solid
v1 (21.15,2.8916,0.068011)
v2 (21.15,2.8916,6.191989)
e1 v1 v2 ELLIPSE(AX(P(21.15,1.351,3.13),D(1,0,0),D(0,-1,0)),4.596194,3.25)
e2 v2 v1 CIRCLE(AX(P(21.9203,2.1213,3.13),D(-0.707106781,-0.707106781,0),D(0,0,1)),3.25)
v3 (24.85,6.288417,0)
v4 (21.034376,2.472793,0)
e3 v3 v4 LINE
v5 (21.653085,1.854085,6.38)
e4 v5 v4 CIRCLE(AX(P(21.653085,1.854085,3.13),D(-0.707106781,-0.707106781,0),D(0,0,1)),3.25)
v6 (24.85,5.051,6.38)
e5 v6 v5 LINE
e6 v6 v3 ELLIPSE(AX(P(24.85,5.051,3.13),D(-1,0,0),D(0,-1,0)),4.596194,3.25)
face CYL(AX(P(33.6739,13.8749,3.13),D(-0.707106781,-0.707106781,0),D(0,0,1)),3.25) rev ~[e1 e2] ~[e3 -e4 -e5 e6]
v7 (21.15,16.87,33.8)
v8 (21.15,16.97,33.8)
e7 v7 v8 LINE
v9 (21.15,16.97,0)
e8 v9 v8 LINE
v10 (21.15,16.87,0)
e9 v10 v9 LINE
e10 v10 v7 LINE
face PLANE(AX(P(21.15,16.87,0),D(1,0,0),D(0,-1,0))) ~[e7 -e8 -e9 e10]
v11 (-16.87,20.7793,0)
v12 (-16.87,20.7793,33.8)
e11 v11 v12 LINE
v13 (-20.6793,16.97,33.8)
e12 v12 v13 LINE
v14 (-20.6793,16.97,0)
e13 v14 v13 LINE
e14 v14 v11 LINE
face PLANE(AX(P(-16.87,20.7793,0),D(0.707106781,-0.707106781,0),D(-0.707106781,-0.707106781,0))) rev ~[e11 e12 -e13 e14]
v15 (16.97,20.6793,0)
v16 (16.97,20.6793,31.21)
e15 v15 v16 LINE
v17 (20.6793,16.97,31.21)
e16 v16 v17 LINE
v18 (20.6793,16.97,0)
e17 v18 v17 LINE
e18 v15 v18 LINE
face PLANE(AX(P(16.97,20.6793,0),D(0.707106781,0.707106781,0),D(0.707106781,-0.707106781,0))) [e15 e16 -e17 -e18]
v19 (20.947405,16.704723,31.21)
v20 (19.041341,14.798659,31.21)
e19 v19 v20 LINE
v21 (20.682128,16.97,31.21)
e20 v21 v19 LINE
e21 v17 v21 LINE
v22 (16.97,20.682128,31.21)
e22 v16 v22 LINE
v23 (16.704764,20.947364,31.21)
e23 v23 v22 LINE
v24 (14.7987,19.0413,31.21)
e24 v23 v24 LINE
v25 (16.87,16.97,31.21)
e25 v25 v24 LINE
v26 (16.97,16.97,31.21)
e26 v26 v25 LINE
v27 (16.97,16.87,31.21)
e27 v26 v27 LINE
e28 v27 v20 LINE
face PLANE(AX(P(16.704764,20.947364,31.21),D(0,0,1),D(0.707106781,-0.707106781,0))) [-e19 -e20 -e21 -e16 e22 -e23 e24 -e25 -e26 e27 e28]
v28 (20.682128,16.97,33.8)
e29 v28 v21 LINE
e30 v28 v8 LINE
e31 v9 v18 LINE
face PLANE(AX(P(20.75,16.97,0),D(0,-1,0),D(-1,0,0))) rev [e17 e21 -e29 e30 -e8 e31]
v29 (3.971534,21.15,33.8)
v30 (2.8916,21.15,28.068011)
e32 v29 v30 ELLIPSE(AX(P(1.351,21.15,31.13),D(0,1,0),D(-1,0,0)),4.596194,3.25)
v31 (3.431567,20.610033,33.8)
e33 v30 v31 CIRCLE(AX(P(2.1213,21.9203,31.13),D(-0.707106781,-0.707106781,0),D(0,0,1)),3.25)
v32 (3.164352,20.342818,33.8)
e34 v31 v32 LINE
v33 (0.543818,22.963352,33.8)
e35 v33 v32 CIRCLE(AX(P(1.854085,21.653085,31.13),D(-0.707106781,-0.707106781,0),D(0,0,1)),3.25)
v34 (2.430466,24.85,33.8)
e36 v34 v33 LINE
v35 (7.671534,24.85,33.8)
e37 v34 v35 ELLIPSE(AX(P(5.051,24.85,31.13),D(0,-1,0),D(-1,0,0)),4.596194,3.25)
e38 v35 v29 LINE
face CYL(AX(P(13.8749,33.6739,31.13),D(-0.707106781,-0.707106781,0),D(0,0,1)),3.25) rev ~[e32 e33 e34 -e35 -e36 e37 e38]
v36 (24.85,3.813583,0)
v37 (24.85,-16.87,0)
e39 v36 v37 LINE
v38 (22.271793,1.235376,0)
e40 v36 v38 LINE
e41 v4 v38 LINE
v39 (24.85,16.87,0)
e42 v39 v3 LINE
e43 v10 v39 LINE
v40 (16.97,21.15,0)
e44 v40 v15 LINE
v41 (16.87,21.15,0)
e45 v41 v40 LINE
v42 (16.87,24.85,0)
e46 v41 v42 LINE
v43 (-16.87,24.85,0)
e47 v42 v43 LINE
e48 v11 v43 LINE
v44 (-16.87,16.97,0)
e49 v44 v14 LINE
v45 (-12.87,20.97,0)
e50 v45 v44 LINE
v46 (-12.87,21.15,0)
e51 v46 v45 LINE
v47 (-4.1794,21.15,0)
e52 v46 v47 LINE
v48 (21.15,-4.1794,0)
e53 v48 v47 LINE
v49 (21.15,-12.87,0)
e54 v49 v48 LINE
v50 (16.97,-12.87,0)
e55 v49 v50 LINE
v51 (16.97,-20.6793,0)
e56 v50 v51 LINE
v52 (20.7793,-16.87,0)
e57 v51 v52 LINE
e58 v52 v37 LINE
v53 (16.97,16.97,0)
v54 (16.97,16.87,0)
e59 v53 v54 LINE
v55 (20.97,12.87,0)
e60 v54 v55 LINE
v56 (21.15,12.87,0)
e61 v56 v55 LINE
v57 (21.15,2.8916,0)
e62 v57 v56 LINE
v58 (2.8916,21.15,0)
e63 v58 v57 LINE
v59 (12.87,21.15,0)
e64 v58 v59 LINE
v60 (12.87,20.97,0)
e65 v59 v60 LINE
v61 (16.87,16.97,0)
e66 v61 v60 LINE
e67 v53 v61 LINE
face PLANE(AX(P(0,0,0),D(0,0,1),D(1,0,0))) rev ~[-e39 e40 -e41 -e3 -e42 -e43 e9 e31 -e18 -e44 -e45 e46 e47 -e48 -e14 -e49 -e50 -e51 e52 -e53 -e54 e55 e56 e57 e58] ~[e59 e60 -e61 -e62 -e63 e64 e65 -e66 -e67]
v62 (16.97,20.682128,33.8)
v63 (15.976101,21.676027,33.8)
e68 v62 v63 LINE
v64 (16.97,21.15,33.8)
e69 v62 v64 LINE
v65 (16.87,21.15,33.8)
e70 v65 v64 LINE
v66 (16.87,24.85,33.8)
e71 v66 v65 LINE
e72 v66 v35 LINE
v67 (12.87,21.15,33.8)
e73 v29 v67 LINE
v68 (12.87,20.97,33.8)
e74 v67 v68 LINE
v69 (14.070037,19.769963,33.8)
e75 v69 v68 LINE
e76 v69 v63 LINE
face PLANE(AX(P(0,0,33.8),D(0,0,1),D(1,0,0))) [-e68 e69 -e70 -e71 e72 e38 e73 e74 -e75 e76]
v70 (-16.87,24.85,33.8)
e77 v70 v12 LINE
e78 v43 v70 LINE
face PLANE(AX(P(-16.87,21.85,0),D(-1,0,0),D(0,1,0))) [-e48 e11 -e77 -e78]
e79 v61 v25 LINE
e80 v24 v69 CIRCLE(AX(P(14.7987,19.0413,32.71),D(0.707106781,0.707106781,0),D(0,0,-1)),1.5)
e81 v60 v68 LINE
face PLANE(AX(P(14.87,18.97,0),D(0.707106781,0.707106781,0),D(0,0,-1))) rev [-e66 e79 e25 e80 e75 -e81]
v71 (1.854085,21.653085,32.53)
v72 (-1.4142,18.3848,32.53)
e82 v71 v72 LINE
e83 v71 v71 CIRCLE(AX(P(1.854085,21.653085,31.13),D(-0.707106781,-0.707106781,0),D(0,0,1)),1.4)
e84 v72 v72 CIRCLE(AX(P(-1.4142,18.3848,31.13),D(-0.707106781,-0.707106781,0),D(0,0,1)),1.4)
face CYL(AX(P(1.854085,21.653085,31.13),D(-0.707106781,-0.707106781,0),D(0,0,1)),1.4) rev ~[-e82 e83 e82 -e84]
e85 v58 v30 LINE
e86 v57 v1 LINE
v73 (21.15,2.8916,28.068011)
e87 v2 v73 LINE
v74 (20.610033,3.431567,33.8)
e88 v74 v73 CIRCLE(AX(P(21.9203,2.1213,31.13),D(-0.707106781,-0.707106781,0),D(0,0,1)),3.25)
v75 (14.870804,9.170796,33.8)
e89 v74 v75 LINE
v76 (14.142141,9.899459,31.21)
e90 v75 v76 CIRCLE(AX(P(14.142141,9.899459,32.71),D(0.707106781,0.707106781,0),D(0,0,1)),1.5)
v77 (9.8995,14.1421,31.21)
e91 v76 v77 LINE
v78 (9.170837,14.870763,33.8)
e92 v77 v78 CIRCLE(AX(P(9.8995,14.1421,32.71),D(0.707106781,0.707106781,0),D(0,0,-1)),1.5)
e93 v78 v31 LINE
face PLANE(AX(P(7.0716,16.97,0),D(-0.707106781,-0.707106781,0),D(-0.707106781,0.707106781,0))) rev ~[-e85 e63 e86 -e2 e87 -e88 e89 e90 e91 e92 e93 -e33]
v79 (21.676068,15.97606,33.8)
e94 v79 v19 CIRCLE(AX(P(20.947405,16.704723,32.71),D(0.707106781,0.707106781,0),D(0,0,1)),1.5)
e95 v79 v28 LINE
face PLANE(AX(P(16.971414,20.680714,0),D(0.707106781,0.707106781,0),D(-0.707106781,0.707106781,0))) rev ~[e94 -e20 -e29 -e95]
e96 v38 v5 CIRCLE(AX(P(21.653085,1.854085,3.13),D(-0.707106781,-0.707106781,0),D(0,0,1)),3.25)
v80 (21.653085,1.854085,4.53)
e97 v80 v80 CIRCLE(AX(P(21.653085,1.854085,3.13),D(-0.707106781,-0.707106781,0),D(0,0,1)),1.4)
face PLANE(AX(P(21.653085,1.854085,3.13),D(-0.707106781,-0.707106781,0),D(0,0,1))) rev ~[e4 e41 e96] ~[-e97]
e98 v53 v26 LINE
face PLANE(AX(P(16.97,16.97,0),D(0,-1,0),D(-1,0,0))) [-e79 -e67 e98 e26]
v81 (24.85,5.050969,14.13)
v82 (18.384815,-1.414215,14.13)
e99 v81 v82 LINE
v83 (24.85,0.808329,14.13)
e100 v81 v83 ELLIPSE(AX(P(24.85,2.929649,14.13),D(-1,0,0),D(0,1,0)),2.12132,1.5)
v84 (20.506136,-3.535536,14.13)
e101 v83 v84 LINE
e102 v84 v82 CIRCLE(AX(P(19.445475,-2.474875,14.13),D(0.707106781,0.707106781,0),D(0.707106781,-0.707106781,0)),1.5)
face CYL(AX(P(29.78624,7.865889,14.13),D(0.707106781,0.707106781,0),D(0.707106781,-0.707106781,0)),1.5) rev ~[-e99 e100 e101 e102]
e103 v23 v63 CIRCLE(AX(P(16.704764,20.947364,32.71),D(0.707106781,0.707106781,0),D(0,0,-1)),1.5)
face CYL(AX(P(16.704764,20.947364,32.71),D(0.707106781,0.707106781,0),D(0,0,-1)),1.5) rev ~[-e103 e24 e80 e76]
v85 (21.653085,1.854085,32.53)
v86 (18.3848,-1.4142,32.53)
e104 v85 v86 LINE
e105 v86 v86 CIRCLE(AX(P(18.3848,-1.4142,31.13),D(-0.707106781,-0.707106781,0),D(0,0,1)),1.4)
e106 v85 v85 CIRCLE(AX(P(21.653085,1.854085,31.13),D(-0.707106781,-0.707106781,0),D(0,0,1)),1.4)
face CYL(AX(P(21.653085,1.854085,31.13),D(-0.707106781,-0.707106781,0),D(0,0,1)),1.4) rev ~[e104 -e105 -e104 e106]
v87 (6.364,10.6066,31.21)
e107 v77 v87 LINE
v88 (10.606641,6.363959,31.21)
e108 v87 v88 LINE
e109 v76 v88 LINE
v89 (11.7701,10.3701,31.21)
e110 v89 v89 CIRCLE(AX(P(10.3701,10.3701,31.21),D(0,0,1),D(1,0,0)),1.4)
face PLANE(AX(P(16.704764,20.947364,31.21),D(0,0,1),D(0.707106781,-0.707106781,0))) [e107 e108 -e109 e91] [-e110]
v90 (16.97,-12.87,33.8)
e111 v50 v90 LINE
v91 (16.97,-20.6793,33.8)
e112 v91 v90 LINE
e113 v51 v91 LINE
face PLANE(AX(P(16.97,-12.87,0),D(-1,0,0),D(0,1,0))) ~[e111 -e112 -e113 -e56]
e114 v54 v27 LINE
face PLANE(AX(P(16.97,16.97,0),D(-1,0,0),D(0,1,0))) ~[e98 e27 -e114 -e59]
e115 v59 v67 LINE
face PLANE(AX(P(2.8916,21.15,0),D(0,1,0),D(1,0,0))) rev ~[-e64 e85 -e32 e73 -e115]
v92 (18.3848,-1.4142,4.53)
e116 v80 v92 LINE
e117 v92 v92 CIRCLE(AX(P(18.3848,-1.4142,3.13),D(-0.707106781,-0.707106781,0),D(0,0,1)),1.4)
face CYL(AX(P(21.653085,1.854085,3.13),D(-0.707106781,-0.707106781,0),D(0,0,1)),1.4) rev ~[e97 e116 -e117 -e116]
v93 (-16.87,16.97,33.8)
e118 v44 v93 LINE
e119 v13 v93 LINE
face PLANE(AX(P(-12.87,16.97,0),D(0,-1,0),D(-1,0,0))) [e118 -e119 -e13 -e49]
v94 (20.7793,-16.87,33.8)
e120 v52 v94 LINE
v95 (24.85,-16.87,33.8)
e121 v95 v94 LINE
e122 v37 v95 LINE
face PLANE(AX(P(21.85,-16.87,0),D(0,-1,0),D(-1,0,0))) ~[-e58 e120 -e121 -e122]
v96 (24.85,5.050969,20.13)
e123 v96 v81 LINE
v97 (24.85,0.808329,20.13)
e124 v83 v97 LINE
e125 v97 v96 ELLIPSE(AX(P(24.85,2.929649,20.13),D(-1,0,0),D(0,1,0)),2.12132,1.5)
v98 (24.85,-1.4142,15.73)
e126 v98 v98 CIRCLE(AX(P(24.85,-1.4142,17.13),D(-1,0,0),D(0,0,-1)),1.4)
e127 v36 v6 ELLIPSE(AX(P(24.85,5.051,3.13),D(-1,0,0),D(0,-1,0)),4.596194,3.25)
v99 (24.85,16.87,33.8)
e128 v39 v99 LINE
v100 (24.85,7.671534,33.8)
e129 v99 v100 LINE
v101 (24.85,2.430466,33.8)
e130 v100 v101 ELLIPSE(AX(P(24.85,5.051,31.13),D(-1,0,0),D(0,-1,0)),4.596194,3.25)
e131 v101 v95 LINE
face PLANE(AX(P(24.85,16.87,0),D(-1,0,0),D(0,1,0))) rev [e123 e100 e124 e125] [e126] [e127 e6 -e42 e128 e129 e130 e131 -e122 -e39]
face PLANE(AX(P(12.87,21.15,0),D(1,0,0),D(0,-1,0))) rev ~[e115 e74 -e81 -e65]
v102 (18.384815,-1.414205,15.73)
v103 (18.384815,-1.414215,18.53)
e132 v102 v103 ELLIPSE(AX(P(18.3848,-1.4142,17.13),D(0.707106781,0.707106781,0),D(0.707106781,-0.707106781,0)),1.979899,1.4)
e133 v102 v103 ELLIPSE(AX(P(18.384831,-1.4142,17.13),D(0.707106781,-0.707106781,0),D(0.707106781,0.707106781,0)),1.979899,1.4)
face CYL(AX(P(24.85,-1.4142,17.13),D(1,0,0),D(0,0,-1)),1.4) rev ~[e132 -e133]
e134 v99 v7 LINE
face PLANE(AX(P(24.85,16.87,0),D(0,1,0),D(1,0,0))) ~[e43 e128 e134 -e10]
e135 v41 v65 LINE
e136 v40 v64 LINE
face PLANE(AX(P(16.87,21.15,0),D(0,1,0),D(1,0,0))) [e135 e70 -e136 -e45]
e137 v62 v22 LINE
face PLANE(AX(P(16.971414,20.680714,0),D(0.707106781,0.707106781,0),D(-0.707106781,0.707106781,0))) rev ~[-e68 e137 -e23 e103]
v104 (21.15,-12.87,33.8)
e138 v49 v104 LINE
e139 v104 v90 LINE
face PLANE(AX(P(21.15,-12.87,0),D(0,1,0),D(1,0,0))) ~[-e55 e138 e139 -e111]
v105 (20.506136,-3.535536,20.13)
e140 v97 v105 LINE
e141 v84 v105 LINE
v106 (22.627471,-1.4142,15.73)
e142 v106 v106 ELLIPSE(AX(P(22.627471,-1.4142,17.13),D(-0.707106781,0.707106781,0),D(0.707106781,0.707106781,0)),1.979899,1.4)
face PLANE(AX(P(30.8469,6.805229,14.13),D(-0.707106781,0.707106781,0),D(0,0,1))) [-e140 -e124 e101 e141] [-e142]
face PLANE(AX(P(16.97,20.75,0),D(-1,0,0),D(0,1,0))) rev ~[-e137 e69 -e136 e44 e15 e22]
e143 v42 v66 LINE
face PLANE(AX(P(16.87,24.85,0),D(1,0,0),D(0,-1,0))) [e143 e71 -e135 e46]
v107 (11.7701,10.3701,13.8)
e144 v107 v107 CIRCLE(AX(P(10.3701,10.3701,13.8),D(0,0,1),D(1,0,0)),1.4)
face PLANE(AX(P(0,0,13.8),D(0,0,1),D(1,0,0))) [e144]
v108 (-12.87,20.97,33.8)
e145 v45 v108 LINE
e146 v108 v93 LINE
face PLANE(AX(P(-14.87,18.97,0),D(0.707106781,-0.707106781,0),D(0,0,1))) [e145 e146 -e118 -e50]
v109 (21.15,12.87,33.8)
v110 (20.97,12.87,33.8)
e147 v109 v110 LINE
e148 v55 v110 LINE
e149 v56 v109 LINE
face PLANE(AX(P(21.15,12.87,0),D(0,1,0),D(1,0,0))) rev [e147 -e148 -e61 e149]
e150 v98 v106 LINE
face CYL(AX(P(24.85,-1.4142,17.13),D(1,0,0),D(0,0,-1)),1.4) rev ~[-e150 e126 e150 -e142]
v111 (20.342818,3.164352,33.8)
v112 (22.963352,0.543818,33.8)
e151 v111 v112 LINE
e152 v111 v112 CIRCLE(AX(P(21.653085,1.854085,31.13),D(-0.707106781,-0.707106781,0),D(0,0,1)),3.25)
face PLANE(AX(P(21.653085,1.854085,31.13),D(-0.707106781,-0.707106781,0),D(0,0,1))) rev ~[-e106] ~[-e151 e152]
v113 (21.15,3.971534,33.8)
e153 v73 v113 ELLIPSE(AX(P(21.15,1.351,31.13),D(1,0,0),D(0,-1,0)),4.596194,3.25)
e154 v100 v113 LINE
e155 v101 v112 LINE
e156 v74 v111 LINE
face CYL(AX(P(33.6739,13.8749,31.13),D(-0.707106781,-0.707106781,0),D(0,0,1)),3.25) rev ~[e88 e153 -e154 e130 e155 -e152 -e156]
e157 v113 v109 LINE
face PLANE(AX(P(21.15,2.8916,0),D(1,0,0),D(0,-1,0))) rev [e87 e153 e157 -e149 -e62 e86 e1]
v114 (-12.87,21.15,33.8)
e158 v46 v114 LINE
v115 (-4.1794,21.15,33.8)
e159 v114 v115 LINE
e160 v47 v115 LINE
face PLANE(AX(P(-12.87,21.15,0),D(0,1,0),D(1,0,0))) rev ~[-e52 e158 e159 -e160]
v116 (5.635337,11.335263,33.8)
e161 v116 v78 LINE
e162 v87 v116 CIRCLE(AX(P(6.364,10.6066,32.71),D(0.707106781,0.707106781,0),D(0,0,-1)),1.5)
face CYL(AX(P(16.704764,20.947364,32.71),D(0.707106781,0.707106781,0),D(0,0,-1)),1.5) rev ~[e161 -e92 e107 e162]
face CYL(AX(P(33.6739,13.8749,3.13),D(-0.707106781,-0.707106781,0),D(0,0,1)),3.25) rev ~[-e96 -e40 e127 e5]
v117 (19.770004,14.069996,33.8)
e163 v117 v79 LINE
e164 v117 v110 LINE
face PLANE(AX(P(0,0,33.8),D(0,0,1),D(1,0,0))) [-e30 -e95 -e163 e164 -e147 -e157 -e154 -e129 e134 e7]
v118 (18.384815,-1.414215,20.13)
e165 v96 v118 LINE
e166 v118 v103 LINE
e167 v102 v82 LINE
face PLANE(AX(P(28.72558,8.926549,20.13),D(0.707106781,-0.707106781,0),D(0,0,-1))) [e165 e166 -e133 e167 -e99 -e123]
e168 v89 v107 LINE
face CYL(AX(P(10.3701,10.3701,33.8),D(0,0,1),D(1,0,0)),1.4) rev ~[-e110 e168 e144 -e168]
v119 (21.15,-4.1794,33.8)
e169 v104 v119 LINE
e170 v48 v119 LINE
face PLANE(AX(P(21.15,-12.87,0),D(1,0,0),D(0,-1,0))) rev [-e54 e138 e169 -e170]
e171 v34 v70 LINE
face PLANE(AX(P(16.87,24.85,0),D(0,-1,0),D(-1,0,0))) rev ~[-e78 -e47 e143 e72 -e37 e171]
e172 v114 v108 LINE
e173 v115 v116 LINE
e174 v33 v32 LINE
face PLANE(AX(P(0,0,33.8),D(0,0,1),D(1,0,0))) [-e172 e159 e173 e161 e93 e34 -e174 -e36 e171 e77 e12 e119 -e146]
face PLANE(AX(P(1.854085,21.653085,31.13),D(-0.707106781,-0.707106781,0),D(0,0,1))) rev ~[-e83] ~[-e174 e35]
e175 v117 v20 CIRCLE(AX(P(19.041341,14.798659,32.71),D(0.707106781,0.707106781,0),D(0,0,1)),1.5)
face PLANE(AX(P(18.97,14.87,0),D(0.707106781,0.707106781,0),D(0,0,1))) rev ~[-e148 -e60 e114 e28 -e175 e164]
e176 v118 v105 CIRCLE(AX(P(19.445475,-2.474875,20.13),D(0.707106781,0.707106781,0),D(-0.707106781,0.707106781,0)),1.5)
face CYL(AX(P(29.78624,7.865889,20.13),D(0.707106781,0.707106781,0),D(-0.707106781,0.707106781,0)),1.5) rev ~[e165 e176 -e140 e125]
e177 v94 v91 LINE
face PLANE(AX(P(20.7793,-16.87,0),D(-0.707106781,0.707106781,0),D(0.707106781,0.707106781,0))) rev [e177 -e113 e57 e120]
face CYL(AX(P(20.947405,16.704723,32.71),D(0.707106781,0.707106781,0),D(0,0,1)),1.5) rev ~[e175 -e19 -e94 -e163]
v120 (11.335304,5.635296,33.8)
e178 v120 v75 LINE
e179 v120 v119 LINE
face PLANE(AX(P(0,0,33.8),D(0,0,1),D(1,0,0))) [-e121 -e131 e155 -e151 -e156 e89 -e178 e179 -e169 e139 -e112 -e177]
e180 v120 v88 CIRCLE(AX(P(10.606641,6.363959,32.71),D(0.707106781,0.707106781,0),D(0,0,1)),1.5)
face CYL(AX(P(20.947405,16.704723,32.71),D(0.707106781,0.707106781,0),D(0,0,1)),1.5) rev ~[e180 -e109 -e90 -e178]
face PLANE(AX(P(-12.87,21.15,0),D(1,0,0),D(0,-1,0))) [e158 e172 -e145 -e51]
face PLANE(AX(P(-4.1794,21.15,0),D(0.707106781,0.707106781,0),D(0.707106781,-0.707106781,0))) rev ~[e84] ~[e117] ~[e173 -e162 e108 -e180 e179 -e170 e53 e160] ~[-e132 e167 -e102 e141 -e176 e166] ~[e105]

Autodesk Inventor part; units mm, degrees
ref_plane "YZ Plane" through (0, 0, 0) normal (1, 0, 0) x (0, 1, 0)
ref_plane "XZ Plane" through (0, 0, 0) normal (0, 1, 0) x (-1, 0, 0)
ref_plane "XY Plane" through (0, 0, 0) normal (0, 0, 1) x (1, 0, 0)
ref_plane "Arbeitsebene1" through (0, 0, 0) normal (0, 0, 1) x (1, 0, 0)
sketch "Skizze1" plane through (0, 0, 0) normal (0, 0, 1) x (1, 0, 0)
  arc A0 (24.85, 22.85) -> (22.85, 24.85) centre (22.85, 22.85) ccw projected
  line L0 (22.85, 24.85) -> (-16.97, 24.85) projected
  line L1 (-16.97, 24.85) -> (-16.97, 21.15) projected
  line L2 (-16.97, 21.15) -> (16.97, 21.15) projected
  line L3 (16.97, 16.97) -> (16.97, 21.15) projected
  line L4 (21.15, 16.97) -> (16.97, 16.97) projected
  line L5 (21.15, 16.97) -> (21.15, -16.97) projected
  line L6 (21.15, -16.97) -> (24.85, -16.97) projected
  line L7 (24.85, -16.97) -> (24.85, 22.85) projected
  line L8 (23.75, 23.25) -> (23.75, 18.15) projected
  arc A1 (23.25, 17.65) -> (23.75, 18.15) centre (23.25, 18.15) ccw projected
  line L9 (23.25, 17.65) -> (20.8937, 17.65) projected
  arc A2 (20.5239, 17.8134) -> (20.8937, 17.65) centre (20.8937, 18.15) ccw projected
  line L10 (20.5239, 17.8134) -> (17.7803, 20.8273) projected
  arc A3 (17.65, 21.1639) -> (17.7803, 20.8273) centre (18.15, 21.1639) ccw projected
  line L11 (17.65, 21.1639) -> (17.65, 23.25) projected
  arc A4 (18.15, 23.75) -> (17.65, 23.25) centre (18.15, 23.25) ccw projected
  line L12 (18.15, 23.75) -> (23.25, 23.75) projected
  arc A5 (23.75, 23.25) -> (23.25, 23.75) centre (23.25, 23.25) ccw projected
  line L13 (-16.87, 24.85) -> (16.87, 24.85)
  line L14 (16.87, 24.85) -> (16.87, 21.85)
  line L15 (16.87, 21.85) -> (-16.87, 21.85)
  line L16 (-16.87, 21.85) -> (-16.87, 24.85)
  line L17 (34.79, 34.79) -> (-34.79, -34.79)
  line L18 (16.87, 21.85) -> (16.87, 16.87)
  line L19 (12.87, 21.85) -> (12.87, 12.87)
  line L20 (16.87, 16.87) -> (12.87, 12.87)
  line L21 (-16.97, 21.15) -> (-16.97, 16.97) projected
  line L22 (16.97, 16.97) -> (-16.97, 16.97) projected
  line L23 (16.97, 21.15) -> (16.97, 16.97) projected
  line L24 (-16.97, 21.15) -> (16.97, 21.15) projected
  line L25 (-16.97, 16.97) -> (-16.97, 20.75) projected
  line L26 (-20.75, 16.97) -> (-16.97, 20.75) projected
  line L27 (-20.75, 16.97) -> (-16.97, 16.97) projected
  line L28 (-16.87, 21.85) -> (-12.87, 21.85)
  line L29 (-12.87, 21.85) -> (-12.87, 16.97)
  line L30 (-12.87, 16.97) -> (-16.87, 16.97)
  line L31 (-16.87, 16.97) -> (-16.87, 21.85)
  line L32 (-16.87, 20.7793) -> (-20.6793, 16.97)
  line L33 (-20.6793, 16.97) -> (-16.87, 16.97)
  line L34 (-4.8794, 21.85) -> (21.15, -4.1794)
  line L35 (-7.0711, 15.5563) -> (3.471, 5.0143) projected
  line L36 (21.15, 2.8916) -> (2.1916, 21.85)
  line L37 (12.0208, 12.0208) -> (8.4853, 8.4853)
  line L38 (20.75, 16.97) -> (16.97, 20.75) projected
  line L39 (16.97, 20.6793) -> (20.6793, 16.97)
  point P0 (0, 0)
  point P1 (-12.87, 21.15)
  point P2 (12.87, 21.15)
  point P3 (2.8916, 21.15)
  point P4 (-4.1794, 21.15)
  point P5 (12.87, 16.97)
  point P6 (16.87, 21.15)
  dimension "d0" = 0.1
  dimension "d1" = 0.1
  dimension "d2" = 3
  dimension "d3" = 4
  dimension "d6" = 4
  dimension "d8" = 0
  dimension "d9" = 0.05
  dimension "d10" = 6
  dimension "d11" = 5
  dimension "d12" = 0.05
extrude "Extrusion1" add sketch "Skizze1" along normal blind 33.8 contours L14 L15 L16 L0 | L18 L2 L19 L15 | L34 L22 L36 L17 | L15 L29 L2 L31 | L19 L2 L36 L15 | L18 L22 L19 L2 | L2 L3 L22 L18 | L39 L4 L17 | L17 L3 L39 | L34 L2 L36 L22 | L15 L34 L2 L29 | L2 L29 L22 L31 | L36 L2 L34 L15 | L31 L22 L21 L32 | L21 L27 L32
mirror "Spiegeln1" about plane through (8.4853, 8.4853, 0) normal (0.7071, -0.7071, 0) of "Extrusion1"
chamfer "Fase1" distance 4 angle 45 3 edges at (12.87, 16.97, 16.9) (16.97, 12.87, 16.9) (-12.87, 16.97, 16.9)
ref_plane "Arbeitsebene2" through (21.9197, 25.629, 0) normal (0.7071, 0.7071, 0) x (-0.7071, 0.7071, 0)
sketch "Skizze2" plane through (21.9197, 25.629, 0) normal (0.7071, 0.7071, 0) x (-0.7071, 0.7071, 0)
  line L0 (-16.6229, 20.13) -> (-16.6229, 14.13) projected
  arc A0 (-19.6229, 14.13) -> (-16.6229, 14.13) centre (-18.1229, 14.13) ccw projected
  line L1 (-19.6229, 14.13) -> (-19.6229, 20.13) projected
  arc A1 (-16.6229, 20.13) -> (-19.6229, 20.13) centre (-18.1229, 20.13) ccw projected
  line L2 (0.3771, 31.21) -> (-5.6229, 31.21) projected
  arc A2 (-5.6229, 34.21) -> (-5.6229, 31.21) centre (-5.6229, 32.71) ccw projected
  line L3 (-5.6229, 34.21) -> (0.3771, 34.21) projected
  arc A3 (0.3771, 31.21) -> (0.3771, 34.21) centre (0.3771, 32.71) ccw projected
  circle A4 centre (-16.6229, 31.13) radius 3.25 projected
  circle A5 centre (-2.6229, 17.13) radius 3.25 projected
  circle A6 centre (11.3771, 31.13) radius 3.25 projected
  circle A7 centre (-16.6229, 3.13) radius 3.25 projected
  line L4 (14.3357, 42.03) -> (-19.6229, 42.03) projected
  line L5 (-19.6229, 42.03) -> (-19.6229, 38.4552) projected
  line L6 (-19.6229, 38.4552) -> (-23.9481, 34.13) projected
  line L7 (-23.9481, 34.13) -> (-27.5229, 34.13) projected
  line L8 (-27.5229, 34.13) -> (-27.5229, 0.13) projected
  line L9 (-27.5229, 0.13) -> (-23.9481, 0.13) projected
  line L10 (-23.9481, 0.13) -> (-19.6229, -4.1952) projected
  line L11 (-19.6229, -4.1952) -> (-19.6229, -7.77) projected
  line L12 (-19.6229, -7.77) -> (14.3771, -7.77) projected
  line L13 (14.3771, -7.77) -> (14.3771, -4.1952) projected
  line L14 (14.3771, -4.1952) -> (18.7023, 0.13) projected
  line L15 (18.7023, 0.13) -> (22.2771, 0.13) projected
  line L16 (22.2771, 0.13) -> (22.2771, 34.13) projected
  line L17 (22.2771, 34.13) -> (18.7023, 34.13) projected
  line L18 (18.7023, 34.13) -> (14.3357, 38.4966) projected
  line L19 (14.3357, 38.4966) -> (14.3357, 42.03) projected
  point P0 (-2.6229, 0)
hole "Bohrung1" at (13.8749, 33.6739, 31.13) at (33.6739, 13.8749, 31.13) at (33.6739, 13.8749, 3.13) direction (-0.7071, -0.7071, 0) diameter 2.8 depth 30 tip angle 118 counterbore diameter 6.5 counterbore depth 17
sketch "Skizze3" plane through (16.97, 20.6793, 0) normal (0.7071, 0.7071, 0) x (-0.7071, 0.7071, 0)
  line L0 (-16.6229, 20.13) -> (-16.6229, 14.13) projected
  arc A0 (-19.6229, 14.13) -> (-16.6229, 14.13) centre (-18.1229, 14.13) ccw projected
  line L1 (-19.6229, 14.13) -> (-19.6229, 20.13) projected
  arc A1 (-16.6229, 20.13) -> (-19.6229, 20.13) centre (-18.1229, 20.13) ccw projected
  line L2 (0.3771, 31.21) -> (-5.6229, 31.21) projected
  arc A2 (-5.6229, 34.21) -> (-5.6229, 31.21) centre (-5.6229, 32.71) ccw projected
  line L3 (-5.6229, 34.21) -> (0.3771, 34.21) projected
  arc A3 (0.3771, 31.21) -> (0.3771, 34.21) centre (0.3771, 32.71) ccw projected
  circle A4 centre (-16.6229, 31.13) radius 3.25 projected
  circle A5 centre (-2.6229, 17.13) radius 3.25 projected
  circle A6 centre (11.3771, 31.13) radius 3.25 projected
  circle A7 centre (-16.6229, 3.13) radius 3.25 projected
  line L4 (14.3357, 42.03) -> (-19.6229, 42.03) projected
  line L5 (-19.6229, 42.03) -> (-19.6229, 38.4552) projected
  line L6 (-19.6229, 38.4552) -> (-23.9481, 34.13) projected
  line L7 (-23.9481, 34.13) -> (-27.5229, 34.13) projected
  line L8 (-27.5229, 34.13) -> (-27.5229, 0.13) projected
  line L9 (-27.5229, 0.13) -> (-23.9481, 0.13) projected
  line L10 (-23.9481, 0.13) -> (-19.6229, -4.1952) projected
  line L11 (-19.6229, -4.1952) -> (-19.6229, -7.77) projected
  line L12 (-19.6229, -7.77) -> (14.3771, -7.77) projected
  line L13 (14.3771, -7.77) -> (14.3771, -4.1952) projected
  line L14 (14.3771, -4.1952) -> (18.7023, 0.13) projected
  line L15 (18.7023, 0.13) -> (22.2771, 0.13) projected
  line L16 (22.2771, 0.13) -> (22.2771, 34.13) projected
  line L17 (22.2771, 34.13) -> (18.7023, 34.13) projected
  line L18 (18.7023, 34.13) -> (14.3357, 38.4966) projected
  line L19 (14.3357, 38.4966) -> (14.3357, 42.03) projected
  point P0 (-2.6229, 0)
extrude "Extrusion2" cut sketch "Skizze3" against normal blind 33.8 contours L0 A0 L1 A1 | L2 A2 L3 A3
sketch "Skizze4" plane through (0, 0, 33.8) normal (0, 0, 1) x (1, 0, 0)
  line L0 (10.6066, 6.364) -> (6.364, 10.6066) projected
  line L1 (14.1421, 9.8995) -> (10.6066, 6.364) projected
  line L2 (9.8995, 14.1421) -> (14.1421, 9.8995) projected
  line L3 (9.8995, 14.1421) -> (6.364, 10.6066) projected
  circle A0 centre (10.3701, 10.3701) radius 1.4
  point P0 (0, 0)
  dimension "d26" = 2.8
extrude "Extrusion3" cut sketch "Skizze4" against normal blind 20 contours A0
sketch "Skizze5" plane through (24.85, -16.87, 33.8) normal (1, 0, 0) x (0, 0, -1)
  ellipse E0 centre (13.67, 19.7997) end of major axis (13.67, 21.921) minor radius 1.5 (13.67, 21.921) -> (13.67, 17.6784) ccw projected
  line L0 (13.67, 21.921) -> (19.67, 21.921) projected
  ellipse E1 centre (19.67, 19.7997) end of major axis (19.67, 17.6784) minor radius 1.5 (19.67, 17.6784) -> (19.67, 21.921) ccw projected
  line L1 (19.67, 17.6784) -> (13.67, 17.6784) projected
  ellipse E2 centre (2.67, 21.921) end of major axis (2.67, 26.5172) minor radius 3.25 (0, 19.3005) -> (0, 24.5415) ccw projected
  line L2 (0, 19.3005) -> (0, 0) projected
  line L3 (33.8, 0) -> (0, 0) projected
  line L4 (33.8, 20.6836) -> (33.8, 0) projected
  ellipse E3 centre (30.67, 21.921) end of major axis (30.67, 26.5172) minor radius 3.25 (33.8, 23.1584) -> (33.8, 20.6836) ccw projected
  line L5 (33.8, 33.74) -> (33.8, 23.1584) projected
  line L6 (33.8, 33.74) -> (0, 33.74) projected
  line L7 (0, 33.74) -> (0, 24.5415) projected
  line L8 (19.67, 15.4558) -> (13.67, 15.4558) projected
  circle A0 centre (16.67, 15.4558) radius 1.4
  point P0 (33.8, 16.87)
  dimension "d29" = 2.8
extrude "Extrusion4" cut sketch "Skizze5" against normal blind 20 contours A0 L8 | L8 A0
properties part number "20_Cube_Insert_Kinematic_Mirror_45_pro_v3"
